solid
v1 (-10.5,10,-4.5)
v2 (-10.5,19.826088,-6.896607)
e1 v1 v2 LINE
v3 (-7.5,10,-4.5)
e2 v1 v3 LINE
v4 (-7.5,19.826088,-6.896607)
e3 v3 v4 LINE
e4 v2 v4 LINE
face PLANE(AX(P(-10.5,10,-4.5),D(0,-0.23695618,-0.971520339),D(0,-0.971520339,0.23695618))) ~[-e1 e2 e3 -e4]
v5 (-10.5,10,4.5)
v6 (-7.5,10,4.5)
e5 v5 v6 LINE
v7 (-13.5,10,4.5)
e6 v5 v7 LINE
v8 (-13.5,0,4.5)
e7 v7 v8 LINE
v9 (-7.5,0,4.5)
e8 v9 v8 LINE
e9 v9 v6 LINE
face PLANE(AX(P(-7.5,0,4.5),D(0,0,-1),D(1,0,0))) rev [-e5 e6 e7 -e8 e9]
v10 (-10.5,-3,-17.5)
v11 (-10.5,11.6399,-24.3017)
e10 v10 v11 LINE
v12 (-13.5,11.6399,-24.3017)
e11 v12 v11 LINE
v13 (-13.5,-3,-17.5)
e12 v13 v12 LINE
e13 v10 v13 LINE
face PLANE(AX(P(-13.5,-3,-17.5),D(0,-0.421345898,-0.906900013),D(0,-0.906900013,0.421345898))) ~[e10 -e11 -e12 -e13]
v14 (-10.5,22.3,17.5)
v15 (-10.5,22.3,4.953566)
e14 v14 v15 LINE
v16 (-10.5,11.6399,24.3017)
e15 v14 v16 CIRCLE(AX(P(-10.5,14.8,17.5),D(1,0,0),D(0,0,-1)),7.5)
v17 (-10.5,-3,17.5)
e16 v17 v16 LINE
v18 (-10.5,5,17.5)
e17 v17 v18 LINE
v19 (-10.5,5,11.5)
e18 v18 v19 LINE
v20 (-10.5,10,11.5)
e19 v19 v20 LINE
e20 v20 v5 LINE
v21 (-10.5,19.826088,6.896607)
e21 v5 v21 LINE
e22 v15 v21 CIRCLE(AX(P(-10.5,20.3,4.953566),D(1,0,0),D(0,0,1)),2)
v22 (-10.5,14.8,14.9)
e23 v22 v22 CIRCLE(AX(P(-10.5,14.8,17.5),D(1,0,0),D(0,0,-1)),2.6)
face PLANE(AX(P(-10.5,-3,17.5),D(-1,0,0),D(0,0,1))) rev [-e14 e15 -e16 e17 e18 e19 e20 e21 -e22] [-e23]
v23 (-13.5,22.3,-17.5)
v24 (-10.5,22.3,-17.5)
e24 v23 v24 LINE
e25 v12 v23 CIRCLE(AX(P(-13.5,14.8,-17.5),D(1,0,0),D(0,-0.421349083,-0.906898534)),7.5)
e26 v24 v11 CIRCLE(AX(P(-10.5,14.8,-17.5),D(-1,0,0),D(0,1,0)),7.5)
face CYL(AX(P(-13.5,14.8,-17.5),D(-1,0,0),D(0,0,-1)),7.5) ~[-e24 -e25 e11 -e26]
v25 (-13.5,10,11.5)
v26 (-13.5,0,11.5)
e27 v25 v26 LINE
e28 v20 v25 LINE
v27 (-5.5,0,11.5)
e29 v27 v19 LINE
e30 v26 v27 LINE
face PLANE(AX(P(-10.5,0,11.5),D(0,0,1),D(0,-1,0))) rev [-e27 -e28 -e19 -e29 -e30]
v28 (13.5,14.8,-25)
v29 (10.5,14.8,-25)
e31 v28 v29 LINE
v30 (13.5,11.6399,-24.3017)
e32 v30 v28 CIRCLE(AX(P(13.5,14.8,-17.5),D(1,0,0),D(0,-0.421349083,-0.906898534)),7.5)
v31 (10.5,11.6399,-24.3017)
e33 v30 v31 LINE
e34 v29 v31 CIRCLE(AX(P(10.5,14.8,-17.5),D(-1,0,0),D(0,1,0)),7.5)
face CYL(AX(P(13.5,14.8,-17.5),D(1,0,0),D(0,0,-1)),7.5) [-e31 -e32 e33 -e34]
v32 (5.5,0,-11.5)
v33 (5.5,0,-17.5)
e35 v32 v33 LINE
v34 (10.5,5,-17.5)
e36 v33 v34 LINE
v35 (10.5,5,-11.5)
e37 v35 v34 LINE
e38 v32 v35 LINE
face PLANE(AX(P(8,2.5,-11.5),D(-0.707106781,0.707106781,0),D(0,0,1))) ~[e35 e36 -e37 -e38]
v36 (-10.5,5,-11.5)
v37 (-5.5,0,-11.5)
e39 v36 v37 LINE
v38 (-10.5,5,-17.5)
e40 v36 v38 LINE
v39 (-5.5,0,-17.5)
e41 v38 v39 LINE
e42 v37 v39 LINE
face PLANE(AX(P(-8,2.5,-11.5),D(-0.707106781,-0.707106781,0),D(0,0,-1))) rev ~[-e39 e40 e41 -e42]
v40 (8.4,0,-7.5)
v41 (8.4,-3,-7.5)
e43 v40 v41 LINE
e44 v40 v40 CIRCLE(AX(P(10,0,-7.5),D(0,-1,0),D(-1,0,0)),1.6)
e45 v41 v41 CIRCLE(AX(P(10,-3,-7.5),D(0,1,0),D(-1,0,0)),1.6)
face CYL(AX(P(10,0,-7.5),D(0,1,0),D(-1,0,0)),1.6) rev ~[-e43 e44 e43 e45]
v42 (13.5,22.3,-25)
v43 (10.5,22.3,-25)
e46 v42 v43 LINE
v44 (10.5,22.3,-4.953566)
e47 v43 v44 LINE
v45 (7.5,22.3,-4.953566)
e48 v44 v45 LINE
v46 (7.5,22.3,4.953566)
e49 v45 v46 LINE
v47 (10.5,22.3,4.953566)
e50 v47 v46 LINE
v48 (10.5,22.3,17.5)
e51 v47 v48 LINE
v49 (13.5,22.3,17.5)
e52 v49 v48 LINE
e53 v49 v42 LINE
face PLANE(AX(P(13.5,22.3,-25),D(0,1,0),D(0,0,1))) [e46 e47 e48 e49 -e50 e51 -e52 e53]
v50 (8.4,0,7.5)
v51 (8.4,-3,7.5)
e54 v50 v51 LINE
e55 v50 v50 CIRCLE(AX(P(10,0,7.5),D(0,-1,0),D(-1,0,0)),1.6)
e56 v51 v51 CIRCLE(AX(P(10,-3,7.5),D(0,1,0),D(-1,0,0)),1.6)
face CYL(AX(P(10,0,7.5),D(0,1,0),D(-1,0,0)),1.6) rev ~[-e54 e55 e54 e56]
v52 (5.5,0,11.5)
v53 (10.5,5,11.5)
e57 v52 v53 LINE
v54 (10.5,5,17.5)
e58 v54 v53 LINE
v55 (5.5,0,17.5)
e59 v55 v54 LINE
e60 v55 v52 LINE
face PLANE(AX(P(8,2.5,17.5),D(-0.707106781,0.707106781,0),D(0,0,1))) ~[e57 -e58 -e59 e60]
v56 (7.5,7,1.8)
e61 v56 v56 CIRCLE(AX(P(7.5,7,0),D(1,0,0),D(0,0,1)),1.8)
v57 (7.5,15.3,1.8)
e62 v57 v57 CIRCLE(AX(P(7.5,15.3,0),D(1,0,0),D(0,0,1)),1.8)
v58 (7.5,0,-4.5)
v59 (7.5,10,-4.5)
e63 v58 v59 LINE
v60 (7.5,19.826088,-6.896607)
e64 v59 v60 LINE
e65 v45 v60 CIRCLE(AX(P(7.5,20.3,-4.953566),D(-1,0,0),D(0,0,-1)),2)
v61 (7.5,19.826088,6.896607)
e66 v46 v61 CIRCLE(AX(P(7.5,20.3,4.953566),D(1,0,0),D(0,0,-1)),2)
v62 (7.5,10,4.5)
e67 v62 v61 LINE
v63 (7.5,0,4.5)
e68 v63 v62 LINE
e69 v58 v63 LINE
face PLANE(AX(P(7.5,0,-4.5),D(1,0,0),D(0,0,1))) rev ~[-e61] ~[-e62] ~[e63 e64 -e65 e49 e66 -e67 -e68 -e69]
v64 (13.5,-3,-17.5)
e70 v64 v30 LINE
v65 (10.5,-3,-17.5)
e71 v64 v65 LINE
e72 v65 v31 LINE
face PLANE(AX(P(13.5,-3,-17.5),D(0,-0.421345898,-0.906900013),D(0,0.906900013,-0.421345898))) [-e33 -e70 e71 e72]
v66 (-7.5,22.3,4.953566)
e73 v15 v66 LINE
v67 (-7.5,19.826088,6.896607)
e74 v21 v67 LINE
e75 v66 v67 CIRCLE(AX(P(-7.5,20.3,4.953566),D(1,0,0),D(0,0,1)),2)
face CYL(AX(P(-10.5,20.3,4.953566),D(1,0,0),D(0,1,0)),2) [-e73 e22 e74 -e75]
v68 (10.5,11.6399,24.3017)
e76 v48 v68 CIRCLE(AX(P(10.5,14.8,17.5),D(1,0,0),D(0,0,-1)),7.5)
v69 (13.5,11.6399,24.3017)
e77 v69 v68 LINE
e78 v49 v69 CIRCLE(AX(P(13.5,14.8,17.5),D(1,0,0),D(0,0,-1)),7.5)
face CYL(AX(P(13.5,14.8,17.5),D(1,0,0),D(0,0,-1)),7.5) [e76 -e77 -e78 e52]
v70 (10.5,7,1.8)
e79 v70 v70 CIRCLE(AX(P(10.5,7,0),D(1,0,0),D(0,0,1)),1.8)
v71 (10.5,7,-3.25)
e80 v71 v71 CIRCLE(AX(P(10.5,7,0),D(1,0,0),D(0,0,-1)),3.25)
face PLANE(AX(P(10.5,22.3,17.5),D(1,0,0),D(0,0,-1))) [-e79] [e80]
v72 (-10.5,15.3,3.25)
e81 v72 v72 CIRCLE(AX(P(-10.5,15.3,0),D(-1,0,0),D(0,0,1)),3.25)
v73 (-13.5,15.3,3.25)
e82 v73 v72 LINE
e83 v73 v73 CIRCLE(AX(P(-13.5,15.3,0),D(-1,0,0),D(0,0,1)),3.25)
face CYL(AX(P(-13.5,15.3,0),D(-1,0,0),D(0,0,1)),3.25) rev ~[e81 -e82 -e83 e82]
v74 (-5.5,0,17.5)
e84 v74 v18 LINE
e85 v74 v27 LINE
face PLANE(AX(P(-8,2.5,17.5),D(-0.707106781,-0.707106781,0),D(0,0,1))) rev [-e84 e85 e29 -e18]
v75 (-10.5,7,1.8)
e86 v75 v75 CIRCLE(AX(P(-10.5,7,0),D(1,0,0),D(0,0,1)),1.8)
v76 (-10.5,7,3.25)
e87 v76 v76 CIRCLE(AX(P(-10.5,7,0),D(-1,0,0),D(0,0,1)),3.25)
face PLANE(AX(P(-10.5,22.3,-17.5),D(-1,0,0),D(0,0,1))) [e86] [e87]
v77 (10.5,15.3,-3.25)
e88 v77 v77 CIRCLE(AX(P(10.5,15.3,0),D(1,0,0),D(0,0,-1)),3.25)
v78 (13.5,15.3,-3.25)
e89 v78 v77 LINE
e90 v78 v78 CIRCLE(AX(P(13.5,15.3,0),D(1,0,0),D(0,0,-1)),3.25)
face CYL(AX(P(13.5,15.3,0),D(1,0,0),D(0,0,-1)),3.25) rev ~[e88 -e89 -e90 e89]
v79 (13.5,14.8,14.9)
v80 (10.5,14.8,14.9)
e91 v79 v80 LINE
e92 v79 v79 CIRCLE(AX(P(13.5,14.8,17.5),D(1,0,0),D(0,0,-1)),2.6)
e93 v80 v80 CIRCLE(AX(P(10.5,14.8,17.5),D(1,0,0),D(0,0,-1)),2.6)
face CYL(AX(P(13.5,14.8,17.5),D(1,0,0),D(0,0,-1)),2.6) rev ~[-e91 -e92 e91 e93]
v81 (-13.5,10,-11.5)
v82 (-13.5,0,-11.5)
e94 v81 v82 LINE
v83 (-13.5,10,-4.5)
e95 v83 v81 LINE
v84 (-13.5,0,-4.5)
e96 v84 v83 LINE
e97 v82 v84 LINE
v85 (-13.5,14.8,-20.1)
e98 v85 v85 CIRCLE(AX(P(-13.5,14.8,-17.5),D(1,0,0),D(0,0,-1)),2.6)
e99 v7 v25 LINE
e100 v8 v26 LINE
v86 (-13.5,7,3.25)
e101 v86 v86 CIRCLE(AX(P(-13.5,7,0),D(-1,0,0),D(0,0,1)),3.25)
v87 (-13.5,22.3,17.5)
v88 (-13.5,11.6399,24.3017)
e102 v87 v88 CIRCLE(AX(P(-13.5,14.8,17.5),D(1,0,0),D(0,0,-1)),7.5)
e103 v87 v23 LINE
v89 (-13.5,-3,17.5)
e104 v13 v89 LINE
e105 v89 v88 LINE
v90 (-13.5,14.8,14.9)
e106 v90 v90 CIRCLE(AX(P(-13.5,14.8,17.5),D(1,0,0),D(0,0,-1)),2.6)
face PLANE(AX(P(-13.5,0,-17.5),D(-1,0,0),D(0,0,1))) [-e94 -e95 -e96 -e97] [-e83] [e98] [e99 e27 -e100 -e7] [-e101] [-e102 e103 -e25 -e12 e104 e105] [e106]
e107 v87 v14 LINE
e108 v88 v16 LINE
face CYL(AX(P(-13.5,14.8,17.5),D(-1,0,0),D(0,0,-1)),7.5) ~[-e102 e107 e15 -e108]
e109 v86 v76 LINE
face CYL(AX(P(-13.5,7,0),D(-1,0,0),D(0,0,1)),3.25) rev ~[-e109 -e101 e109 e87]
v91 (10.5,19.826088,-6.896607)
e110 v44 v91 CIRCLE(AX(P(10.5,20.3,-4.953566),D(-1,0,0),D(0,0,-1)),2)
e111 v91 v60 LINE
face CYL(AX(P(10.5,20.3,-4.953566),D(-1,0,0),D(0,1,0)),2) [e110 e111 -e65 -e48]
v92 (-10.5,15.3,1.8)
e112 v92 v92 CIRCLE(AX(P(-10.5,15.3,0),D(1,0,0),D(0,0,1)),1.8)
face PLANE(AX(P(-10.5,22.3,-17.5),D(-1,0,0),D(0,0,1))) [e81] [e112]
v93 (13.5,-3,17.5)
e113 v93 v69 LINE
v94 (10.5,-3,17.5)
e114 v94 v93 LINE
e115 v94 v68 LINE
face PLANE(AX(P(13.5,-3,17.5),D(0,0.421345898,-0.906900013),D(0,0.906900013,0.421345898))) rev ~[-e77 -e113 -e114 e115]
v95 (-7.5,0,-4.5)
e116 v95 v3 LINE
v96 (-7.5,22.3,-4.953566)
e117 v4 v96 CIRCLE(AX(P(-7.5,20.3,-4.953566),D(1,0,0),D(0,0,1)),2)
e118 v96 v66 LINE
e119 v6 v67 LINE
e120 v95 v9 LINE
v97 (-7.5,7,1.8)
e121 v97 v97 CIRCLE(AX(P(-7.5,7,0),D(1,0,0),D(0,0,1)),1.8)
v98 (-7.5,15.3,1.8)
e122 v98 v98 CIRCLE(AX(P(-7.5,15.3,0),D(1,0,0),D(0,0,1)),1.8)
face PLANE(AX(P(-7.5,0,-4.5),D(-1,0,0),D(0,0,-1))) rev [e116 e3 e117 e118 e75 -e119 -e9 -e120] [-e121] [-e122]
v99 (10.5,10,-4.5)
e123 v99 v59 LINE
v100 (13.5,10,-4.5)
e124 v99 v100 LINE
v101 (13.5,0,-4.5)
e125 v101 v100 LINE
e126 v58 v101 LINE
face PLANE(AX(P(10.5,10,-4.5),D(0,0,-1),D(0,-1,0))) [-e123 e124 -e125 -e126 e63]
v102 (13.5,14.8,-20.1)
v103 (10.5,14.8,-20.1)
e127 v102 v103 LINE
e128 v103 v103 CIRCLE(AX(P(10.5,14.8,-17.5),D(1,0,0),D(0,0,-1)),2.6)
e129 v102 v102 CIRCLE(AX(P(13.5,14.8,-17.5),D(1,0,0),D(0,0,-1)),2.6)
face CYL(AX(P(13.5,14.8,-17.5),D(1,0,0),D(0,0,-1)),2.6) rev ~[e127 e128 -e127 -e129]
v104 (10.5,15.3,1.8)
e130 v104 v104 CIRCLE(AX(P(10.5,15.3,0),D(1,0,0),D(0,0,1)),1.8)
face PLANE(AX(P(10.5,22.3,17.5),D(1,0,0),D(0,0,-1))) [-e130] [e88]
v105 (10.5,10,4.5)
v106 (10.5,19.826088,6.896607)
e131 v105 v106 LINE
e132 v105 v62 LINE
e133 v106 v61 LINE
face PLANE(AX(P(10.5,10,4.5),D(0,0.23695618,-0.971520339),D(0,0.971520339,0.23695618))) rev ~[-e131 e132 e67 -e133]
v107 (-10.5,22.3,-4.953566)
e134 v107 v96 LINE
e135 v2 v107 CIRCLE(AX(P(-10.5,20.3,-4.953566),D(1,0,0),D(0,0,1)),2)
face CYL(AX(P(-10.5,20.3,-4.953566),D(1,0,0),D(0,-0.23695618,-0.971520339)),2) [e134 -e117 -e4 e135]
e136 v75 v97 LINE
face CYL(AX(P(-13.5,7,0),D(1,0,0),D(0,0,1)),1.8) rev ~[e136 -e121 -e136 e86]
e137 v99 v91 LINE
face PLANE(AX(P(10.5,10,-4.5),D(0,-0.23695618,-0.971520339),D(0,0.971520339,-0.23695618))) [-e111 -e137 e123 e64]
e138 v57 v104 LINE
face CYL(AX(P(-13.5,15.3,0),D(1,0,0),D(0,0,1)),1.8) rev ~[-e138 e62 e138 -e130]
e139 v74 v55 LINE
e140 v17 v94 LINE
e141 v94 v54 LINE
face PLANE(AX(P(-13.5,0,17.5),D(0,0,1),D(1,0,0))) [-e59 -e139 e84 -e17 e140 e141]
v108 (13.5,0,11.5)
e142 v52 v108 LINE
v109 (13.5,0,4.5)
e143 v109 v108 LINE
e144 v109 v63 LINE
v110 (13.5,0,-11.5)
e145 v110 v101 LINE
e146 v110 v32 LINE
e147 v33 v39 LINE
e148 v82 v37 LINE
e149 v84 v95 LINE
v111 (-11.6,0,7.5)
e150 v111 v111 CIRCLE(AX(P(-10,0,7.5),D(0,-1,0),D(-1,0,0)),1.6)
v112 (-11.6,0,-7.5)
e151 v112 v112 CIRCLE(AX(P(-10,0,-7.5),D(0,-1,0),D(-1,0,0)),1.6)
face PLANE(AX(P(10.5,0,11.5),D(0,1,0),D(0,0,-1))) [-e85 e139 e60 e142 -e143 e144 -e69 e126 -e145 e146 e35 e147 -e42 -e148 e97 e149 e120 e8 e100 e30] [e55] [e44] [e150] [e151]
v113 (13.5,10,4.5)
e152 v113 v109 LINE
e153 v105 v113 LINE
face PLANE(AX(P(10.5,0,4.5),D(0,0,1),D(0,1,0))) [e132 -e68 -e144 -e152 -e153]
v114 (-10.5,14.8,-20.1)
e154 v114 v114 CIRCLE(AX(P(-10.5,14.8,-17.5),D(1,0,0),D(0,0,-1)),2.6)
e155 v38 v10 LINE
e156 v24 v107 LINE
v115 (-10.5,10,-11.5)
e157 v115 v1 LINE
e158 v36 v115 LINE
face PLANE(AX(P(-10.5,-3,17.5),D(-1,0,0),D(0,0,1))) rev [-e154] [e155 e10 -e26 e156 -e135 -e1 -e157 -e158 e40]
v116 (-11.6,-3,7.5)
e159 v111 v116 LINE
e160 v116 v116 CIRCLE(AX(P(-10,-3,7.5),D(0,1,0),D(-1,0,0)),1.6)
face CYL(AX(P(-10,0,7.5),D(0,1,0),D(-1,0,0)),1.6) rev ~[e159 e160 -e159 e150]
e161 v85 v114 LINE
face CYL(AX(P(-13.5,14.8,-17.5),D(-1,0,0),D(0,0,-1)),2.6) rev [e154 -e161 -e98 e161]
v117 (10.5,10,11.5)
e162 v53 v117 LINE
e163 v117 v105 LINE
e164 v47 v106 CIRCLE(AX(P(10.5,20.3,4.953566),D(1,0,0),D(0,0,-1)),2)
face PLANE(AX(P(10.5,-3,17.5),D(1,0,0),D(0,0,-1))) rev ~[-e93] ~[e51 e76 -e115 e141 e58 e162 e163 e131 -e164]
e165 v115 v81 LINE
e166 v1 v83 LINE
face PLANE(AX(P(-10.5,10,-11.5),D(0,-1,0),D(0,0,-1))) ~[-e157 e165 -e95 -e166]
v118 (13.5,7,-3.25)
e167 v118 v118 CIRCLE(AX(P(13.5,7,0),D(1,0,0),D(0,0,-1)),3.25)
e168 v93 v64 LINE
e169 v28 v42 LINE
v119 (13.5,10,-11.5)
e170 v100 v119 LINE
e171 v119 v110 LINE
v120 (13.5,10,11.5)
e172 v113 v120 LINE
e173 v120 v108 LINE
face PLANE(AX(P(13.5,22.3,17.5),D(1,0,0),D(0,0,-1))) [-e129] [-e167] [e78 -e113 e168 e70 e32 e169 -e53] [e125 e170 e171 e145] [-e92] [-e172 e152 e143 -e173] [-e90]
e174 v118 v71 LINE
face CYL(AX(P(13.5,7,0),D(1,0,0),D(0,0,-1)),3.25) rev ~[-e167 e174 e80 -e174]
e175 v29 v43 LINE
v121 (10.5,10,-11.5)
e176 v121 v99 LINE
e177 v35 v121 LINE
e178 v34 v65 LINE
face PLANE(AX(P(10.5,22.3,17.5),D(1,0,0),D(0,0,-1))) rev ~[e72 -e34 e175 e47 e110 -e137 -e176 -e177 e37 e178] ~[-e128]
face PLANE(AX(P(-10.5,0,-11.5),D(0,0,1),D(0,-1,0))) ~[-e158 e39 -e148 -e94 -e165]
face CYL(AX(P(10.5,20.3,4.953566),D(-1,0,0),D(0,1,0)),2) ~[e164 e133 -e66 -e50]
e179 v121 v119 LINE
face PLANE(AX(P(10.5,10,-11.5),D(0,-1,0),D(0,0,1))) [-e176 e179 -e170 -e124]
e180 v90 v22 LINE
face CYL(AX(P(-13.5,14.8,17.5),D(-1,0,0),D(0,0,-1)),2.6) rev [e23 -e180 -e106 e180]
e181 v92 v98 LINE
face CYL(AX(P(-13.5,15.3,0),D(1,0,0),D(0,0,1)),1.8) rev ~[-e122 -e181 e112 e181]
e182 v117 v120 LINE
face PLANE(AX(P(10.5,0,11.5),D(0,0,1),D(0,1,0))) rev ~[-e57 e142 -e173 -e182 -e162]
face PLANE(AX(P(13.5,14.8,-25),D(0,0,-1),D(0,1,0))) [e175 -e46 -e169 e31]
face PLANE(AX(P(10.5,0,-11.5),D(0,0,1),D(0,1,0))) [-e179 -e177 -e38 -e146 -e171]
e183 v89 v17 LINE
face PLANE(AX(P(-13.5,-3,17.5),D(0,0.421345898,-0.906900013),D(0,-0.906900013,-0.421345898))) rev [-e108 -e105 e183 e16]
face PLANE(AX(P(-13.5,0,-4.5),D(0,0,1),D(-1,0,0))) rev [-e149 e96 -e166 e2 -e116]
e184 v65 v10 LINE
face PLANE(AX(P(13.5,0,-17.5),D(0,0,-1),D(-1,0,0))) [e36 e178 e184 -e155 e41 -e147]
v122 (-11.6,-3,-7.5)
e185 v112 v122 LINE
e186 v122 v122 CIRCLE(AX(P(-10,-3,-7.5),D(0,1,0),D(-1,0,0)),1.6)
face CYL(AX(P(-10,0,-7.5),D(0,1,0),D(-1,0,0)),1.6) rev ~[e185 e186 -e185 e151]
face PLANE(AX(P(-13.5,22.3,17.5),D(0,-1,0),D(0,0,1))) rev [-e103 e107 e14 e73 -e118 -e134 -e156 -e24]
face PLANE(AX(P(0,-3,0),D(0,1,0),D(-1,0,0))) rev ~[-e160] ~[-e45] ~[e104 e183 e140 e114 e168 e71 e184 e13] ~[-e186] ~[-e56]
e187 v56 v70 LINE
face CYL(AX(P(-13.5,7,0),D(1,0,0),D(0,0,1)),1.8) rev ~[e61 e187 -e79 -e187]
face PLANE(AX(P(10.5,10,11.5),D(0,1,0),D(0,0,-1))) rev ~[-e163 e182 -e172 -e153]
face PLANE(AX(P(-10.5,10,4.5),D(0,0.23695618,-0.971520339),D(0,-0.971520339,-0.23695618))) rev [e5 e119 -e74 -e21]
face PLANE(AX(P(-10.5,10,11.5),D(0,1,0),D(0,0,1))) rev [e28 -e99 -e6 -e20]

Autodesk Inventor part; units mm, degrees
ref_plane "YZ Plane" through (0, 0, 0) normal (1, 0, 0) x (0, 1, 0)
ref_plane "XZ Plane" through (0, 0, 0) normal (0, 1, 0) x (-1, 0, 0)
ref_plane "XY Plane" through (0, 0, 0) normal (0, 0, 1) x (1, 0, 0)
sketch "Sketch8" plane through (0, 0, 0) normal (0, 1, 0) x (-1, 0, 0)
  line L0 (-13.5, -17.5) -> (13.5, -17.5)
  line L1 (13.5, -17.5) -> (13.5, 17.5)
  line L2 (13.5, 17.5) -> (-13.5, 17.5)
  line L3 (-13.5, 17.5) -> (-13.5, -17.5)
  line L4 (-13.5, -17.5) -> (13.5, 17.5) construction
  line L5 (13.5, -17.5) -> (-13.5, 17.5) construction
  circle A0 centre (10, -7.5) radius 1.6
  circle A1 centre (10, 7.5) radius 1.6
  circle A2 centre (-10, 7.5) radius 1.6
  circle A3 centre (-10, -7.5) radius 1.6
  point P0 (0, 0)
  dimension "d38" = 35
  dimension "d39" = 27
  dimension "d40" = 20
  dimension "d41" = 15
  dimension "d42" = 7.5
  dimension "d43" = 10
  dimension "d44" = 3.2
extrude "Extrusion7" add sketch "Sketch8" against normal blind 3
sketch "Sketch14" plane through (0, 0, 0) normal (0, 1, 0) x (1, 0, 0)
  line L0 (-13.5, 17.5) -> (-13.5, -17.5) projected
  line L1 (-13.5, -17.5) -> (13.5, -17.5) projected
  line L2 (13.5, -17.5) -> (13.5, 17.5) projected
  line L3 (13.5, 17.5) -> (-13.5, 17.5) projected
  circle A0 centre (-10, 7.5) radius 1.6 projected
  circle A1 centre (-10, -7.5) radius 1.6 projected
  circle A2 centre (10, -7.5) radius 1.6 projected
  circle A3 centre (10, 7.5) radius 1.6 projected
  line L4 (13.5, -17.5) -> (13.5, 17.5) projected
  line L5 (13.5, 4.5) -> (7.5, 4.5)
  line L6 (7.5, 4.5) -> (7.5, -4.5)
  line L7 (7.5, -4.5) -> (13.5, -4.5)
  line L8 (13.5, -4.5) -> (13.5, 4.5)
  point P0 (0, 0)
  dimension "d79" = 7.5
  dimension "d80" = 3
  dimension "d81" = 3
extrude "Extrusion12" add sketch "Sketch14" along normal blind 22.3 contours L2 L7 L6 L5
sketch "Sketch15" plane through (13.5, -3, 17.5) normal (1, 0, 0) x (0, 0, -1)
  line L0 (0, 3) -> (13, 3) projected
  line L1 (0, 3) -> (0, 0) projected
  line L2 (35, 0) -> (0, 0) projected
  line L3 (35, 3) -> (35, 0) projected
  line L4 (22, 3) -> (35, 3) projected
  line L5 (22, 3) -> (22, 25.3) projected
  line L6 (13, 25.3) -> (22, 25.3) projected
  line L7 (13, 3) -> (13, 25.3) projected
  line L8 (35, 3) -> (35, 0) projected
  line L9 (35, 0) -> (41.8017, 14.6399)
  circle A0 centre (35, 17.8) radius 2.6
  circle A1 centre (35, 17.8) radius 7.5
  circle A2 centre (0, 17.8) radius 2.6
  circle A3 centre (0, 17.8) radius 7.5
  line L10 (-275, -9) -> (225, -9) projected
  line L11 (0, 0) -> (-6.8017, 14.6399)
  line L12 (0, 25.3) -> (35, 25.3)
  point P0 (17.5, 3)
  point P1 (13, 25.3)
  point P2 (22, 25.3)
  dimension "d84" = 5.2
  dimension "d85" = 35
  dimension "d86" = 17.5
  dimension "d87" = 26.8
  dimension "d88" = 15
extrude "Extrusion13" add sketch "Sketch15" against normal blind 3 contours L1 L11 A3 L12 L7 L0 | L3 L4 L5 L12 A1 L9 | A3 | A1
sketch "Sketch16" plane through (10.5, -3, 17.5) normal (-1, 0, 0) x (0, 0, 1)
  arc A0 (-35, 25.3) -> (-41.8017, 14.6399) centre (-35, 17.8) ccw projected
  line L0 (-41.8017, 14.6399) -> (-35, 0) projected
  line L1 (-35, 3) -> (-35, 0) projected
  line L2 (-26.5199, 3) -> (-35, 3) projected
  line L3 (-26.5199, 3) -> (-23.4801, 3) projected
  line L4 (-22, 3) -> (-23.4801, 3) projected
  line L5 (-22, 25.3) -> (-22, 3) projected
  line L6 (-22, 25.3) -> (-35, 25.3) projected
  circle A1 centre (-35, 17.8) radius 2.6 projected
  arc A2 (6.8017, 14.6399) -> (0, 25.3) centre (0, 17.8) ccw projected
  line L7 (0, 25.3) -> (-13, 25.3) projected
  line L8 (-13, 3) -> (-13, 25.3) projected
  line L9 (-11.5199, 3) -> (-13, 3) projected
  line L10 (-11.5199, 3) -> (-8.4801, 3) projected
  line L11 (0, 3) -> (-8.4801, 3) projected
  line L12 (0, 0) -> (0, 3) projected
  line L13 (0, 0) -> (6.8017, 14.6399) projected
  circle A3 centre (0, 17.8) radius 2.6 projected
  line L14 (-22, 3) -> (-29, 3)
  line L15 (-29, 3) -> (-29, 13)
  line L16 (-29, 13) -> (-22, 13)
  line L17 (-22, 13) -> (-22, 3)
  line L18 (-11.5199, 3) -> (-13, 3) projected
  line L19 (-13, 3) -> (-6, 3)
  line L20 (-6, 3) -> (-6, 13)
  line L21 (-6, 13) -> (-13, 13)
  line L22 (-13, 13) -> (-13, 3)
  line L23 (-23.4, 0) -> (-26.6, 0) projected
  line L24 (-26.6, 3) -> (-23.4, 3) projected
  line L25 (-8.4, 0) -> (-11.6, 0) projected
  line L26 (-11.6, 3) -> (-8.4, 3) projected
  point P0 (-17.5, 3)
  point P1 (-10, 0)
  point P2 (-6, 3)
  dimension "d91" = 7
  dimension "d92" = 3
  dimension "d93" = 10
extrude "Extrusion14" cut sketch "Sketch16" against normal blind 22.3 contours L5 L4 L3 L2 L15 L16 | L21 L20 L11 L10 L9 L8
sketch "Sketch17" plane through (10.5, -3, 17.5) normal (-1, 0, 0) x (0, 0, 1)
  circle A0 centre (-35, 17.8) radius 2.6 projected
  line L0 (-29, 3) -> (-29, 13) projected
  line L1 (-29, 13) -> (-22, 13) projected
  line L2 (-22, 25.3) -> (-22, 13) projected
  line L3 (-22, 25.3) -> (-35, 25.3) projected
  arc A1 (-35, 25.3) -> (-41.8017, 14.6399) centre (-35, 17.8) ccw projected
  line L4 (-41.8017, 14.6399) -> (-35, 0) projected
  line L5 (-35, 3) -> (-35, 0) projected
  line L6 (-29, 3) -> (-35, 3) projected
  circle A2 centre (0, 17.8) radius 2.6 projected
  line L7 (-13, 13) -> (-6, 13) projected
  line L8 (-6, 13) -> (-6, 3) projected
  line L9 (0, 3) -> (-6, 3) projected
  line L10 (0, 0) -> (0, 3) projected
  line L11 (0, 0) -> (6.8017, 14.6399) projected
  arc A3 (6.8017, 14.6399) -> (0, 25.3) centre (0, 17.8) ccw projected
  line L12 (0, 25.3) -> (-13, 25.3) projected
  line L13 (-13, 13) -> (-13, 25.3) projected
  line L14 (-13, 13) -> (-10, 25.3)
  line L15 (-22, 13) -> (-25, 25.3)
  line L16 (-35, 25.3) -> (0, 25.3) projected
  point P0 (-17.5, 3)
  dimension "d96" = 15
extrude "Extrusion15" add sketch "Sketch17" along normal up to surface (3 mm away) contours L12 L14 L13 | L15 L3 L2
fillet "Fillet2" radius 2 2 edges at (9, 22.3, -7.5) (9, 22.3, 7.5)
mirror "Mirror1" about plane through (0, 0, 0) normal (1, 0, 0) of "Extrusion12", "Extrusion13", "Extrusion14", "Extrusion15", "Fillet2"
chamfer "Chamfer1" distance 5 angle 45 4 edges at (-10.5, 0, 14.5) (-10.5, 0, -14.5) (10.5, 0, 14.5) (10.5, 0, -14.5)
sketch "Sketch18" plane through (-13.5, 22.3, -17.5) normal (-1, 0, 0) x (0, 0, 1)
  line L0 (13, -22.3) -> (6, -22.3) projected
  line L1 (6, -22.3) -> (6, -12.3) projected
  line L2 (6, -12.3) -> (13, -12.3) projected
  line L3 (13, -12.3) -> (13, -22.3) projected
  line L4 (29, -22.3) -> (22, -22.3) projected
  line L5 (22, -22.3) -> (22, -12.3) projected
  line L6 (22, -12.3) -> (29, -12.3) projected
  line L7 (29, -12.3) -> (29, -22.3) projected
  circle A0 centre (0, -7.5) radius 2.6 projected
  circle A1 centre (35, -7.5) radius 2.6 projected
  line L8 (41.8017, -10.6601) -> (35, -25.3) projected
  arc A2 (41.8017, -10.6601) -> (35, 0) centre (35, -7.5) ccw projected
  line L9 (0, 0) -> (35, 0) projected
  arc A3 (0, 0) -> (-6.8017, -10.6601) centre (0, -7.5) ccw projected
  line L10 (0, -25.3) -> (-6.8017, -10.6601) projected
  line L11 (35, -25.3) -> (0, -25.3) projected
  point P0 (17.5, -22.3)
  point P1 (17.5, -7)
  point P2 (17.5, -15.3)
  dimension "d103" = 7
  dimension "d104" = 10
hole "Hole3" at (-13.5, 15.3, 0) at (-13.5, 7, 0) direction (1, 0, 0) diameter 3.6 end through all clearance for "Slotted Cheese Head Screw ISO 1207" size "M3" standard "ISO"
sketch "Sketch19" plane through (13.5, 22.3, 17.5) normal (1, 0, 0) x (0, 0, -1)
  circle A0 centre (17.5, -15.3) radius 1.8 projected
  circle A1 centre (17.5, -7) radius 1.8 projected
  circle A2 centre (17.5, -15.3) radius 3.25
  circle A3 centre (17.5, -7) radius 3.25
  point P0 (17.5, -22.3)
  dimension "d112" = 6.5
extrude "Extrusion16" cut sketch "Sketch19" against normal blind 3 contours A0 | A1 | A2 | A3
sketch "Sketch20" plane through (-13.5, 22.3, -17.5) normal (-1, 0, 0) x (0, 0, 1)
  circle A0 centre (17.5, -15.3) radius 3.25 projected
  circle A1 centre (17.5, -7) radius 3.25 projected
  point P0 (17.5, -22.3)
extrude "Extrusion17" cut sketch "Sketch20" against normal blind 3
sketch "Sketch21" plane through (13.5, 22.3, 17.5) normal (1, 0, 0) x (0, 0, -1)
  circle A0 centre (17.5, -7) radius 3.25 projected
  circle A1 centre (17.5, -15.3) radius 3.25 projected
  line L0 (29, -22.3) -> (22, -22.3) projected
  line L1 (22, -22.3) -> (22, -12.3) projected
  line L2 (22, -12.3) -> (29, -12.3) projected
  line L3 (29, -12.3) -> (29, -22.3) projected
  line L4 (13, -22.3) -> (6, -22.3) projected
  line L5 (6, -22.3) -> (6, -12.3) projected
  line L6 (6, -12.3) -> (13, -12.3) projected
  line L7 (13, -12.3) -> (13, -22.3) projected
  circle A2 centre (0, -7.5) radius 2.6 projected
  circle A3 centre (35, -7.5) radius 2.6 projected
  line L8 (35, -25.3) -> (0, -25.3) projected
  line L9 (35, -25.3) -> (41.8017, -10.6601) projected
  arc A4 (41.8017, -10.6601) -> (35, 0) centre (35, -7.5) ccw projected
  line L10 (35, 0) -> (0, 0) projected
  arc A5 (0, 0) -> (-6.8017, -10.6601) centre (0, -7.5) ccw projected
  line L11 (-6.8017, -10.6601) -> (0, -25.3) projected
  arc A6 (41.8017, -10.6601) -> (35, 0) centre (35, -7.5) ccw projected
  line L12 (42.5, -7.5) -> (42.5, 0)
  line L13 (42.5, 0) -> (35, 0)
  line L14 (22.4536, 0) -> (35, 0) projected
  point P0 (17.5, -22.3)
extrude "Extrusion18" add sketch "Sketch21" against normal up to surface (3 mm away) contours A4 L13 L12
equation "\"d42\" = 0.5 * d41"
equation "\"d43\" = 0.5 * d40"
equation "\"d81\" = d80"
equation "\"d86\" = 0.5 * d85"
properties part number "Y Axis Gantry Baseblock (CNC)" material "ABS Plastic"
